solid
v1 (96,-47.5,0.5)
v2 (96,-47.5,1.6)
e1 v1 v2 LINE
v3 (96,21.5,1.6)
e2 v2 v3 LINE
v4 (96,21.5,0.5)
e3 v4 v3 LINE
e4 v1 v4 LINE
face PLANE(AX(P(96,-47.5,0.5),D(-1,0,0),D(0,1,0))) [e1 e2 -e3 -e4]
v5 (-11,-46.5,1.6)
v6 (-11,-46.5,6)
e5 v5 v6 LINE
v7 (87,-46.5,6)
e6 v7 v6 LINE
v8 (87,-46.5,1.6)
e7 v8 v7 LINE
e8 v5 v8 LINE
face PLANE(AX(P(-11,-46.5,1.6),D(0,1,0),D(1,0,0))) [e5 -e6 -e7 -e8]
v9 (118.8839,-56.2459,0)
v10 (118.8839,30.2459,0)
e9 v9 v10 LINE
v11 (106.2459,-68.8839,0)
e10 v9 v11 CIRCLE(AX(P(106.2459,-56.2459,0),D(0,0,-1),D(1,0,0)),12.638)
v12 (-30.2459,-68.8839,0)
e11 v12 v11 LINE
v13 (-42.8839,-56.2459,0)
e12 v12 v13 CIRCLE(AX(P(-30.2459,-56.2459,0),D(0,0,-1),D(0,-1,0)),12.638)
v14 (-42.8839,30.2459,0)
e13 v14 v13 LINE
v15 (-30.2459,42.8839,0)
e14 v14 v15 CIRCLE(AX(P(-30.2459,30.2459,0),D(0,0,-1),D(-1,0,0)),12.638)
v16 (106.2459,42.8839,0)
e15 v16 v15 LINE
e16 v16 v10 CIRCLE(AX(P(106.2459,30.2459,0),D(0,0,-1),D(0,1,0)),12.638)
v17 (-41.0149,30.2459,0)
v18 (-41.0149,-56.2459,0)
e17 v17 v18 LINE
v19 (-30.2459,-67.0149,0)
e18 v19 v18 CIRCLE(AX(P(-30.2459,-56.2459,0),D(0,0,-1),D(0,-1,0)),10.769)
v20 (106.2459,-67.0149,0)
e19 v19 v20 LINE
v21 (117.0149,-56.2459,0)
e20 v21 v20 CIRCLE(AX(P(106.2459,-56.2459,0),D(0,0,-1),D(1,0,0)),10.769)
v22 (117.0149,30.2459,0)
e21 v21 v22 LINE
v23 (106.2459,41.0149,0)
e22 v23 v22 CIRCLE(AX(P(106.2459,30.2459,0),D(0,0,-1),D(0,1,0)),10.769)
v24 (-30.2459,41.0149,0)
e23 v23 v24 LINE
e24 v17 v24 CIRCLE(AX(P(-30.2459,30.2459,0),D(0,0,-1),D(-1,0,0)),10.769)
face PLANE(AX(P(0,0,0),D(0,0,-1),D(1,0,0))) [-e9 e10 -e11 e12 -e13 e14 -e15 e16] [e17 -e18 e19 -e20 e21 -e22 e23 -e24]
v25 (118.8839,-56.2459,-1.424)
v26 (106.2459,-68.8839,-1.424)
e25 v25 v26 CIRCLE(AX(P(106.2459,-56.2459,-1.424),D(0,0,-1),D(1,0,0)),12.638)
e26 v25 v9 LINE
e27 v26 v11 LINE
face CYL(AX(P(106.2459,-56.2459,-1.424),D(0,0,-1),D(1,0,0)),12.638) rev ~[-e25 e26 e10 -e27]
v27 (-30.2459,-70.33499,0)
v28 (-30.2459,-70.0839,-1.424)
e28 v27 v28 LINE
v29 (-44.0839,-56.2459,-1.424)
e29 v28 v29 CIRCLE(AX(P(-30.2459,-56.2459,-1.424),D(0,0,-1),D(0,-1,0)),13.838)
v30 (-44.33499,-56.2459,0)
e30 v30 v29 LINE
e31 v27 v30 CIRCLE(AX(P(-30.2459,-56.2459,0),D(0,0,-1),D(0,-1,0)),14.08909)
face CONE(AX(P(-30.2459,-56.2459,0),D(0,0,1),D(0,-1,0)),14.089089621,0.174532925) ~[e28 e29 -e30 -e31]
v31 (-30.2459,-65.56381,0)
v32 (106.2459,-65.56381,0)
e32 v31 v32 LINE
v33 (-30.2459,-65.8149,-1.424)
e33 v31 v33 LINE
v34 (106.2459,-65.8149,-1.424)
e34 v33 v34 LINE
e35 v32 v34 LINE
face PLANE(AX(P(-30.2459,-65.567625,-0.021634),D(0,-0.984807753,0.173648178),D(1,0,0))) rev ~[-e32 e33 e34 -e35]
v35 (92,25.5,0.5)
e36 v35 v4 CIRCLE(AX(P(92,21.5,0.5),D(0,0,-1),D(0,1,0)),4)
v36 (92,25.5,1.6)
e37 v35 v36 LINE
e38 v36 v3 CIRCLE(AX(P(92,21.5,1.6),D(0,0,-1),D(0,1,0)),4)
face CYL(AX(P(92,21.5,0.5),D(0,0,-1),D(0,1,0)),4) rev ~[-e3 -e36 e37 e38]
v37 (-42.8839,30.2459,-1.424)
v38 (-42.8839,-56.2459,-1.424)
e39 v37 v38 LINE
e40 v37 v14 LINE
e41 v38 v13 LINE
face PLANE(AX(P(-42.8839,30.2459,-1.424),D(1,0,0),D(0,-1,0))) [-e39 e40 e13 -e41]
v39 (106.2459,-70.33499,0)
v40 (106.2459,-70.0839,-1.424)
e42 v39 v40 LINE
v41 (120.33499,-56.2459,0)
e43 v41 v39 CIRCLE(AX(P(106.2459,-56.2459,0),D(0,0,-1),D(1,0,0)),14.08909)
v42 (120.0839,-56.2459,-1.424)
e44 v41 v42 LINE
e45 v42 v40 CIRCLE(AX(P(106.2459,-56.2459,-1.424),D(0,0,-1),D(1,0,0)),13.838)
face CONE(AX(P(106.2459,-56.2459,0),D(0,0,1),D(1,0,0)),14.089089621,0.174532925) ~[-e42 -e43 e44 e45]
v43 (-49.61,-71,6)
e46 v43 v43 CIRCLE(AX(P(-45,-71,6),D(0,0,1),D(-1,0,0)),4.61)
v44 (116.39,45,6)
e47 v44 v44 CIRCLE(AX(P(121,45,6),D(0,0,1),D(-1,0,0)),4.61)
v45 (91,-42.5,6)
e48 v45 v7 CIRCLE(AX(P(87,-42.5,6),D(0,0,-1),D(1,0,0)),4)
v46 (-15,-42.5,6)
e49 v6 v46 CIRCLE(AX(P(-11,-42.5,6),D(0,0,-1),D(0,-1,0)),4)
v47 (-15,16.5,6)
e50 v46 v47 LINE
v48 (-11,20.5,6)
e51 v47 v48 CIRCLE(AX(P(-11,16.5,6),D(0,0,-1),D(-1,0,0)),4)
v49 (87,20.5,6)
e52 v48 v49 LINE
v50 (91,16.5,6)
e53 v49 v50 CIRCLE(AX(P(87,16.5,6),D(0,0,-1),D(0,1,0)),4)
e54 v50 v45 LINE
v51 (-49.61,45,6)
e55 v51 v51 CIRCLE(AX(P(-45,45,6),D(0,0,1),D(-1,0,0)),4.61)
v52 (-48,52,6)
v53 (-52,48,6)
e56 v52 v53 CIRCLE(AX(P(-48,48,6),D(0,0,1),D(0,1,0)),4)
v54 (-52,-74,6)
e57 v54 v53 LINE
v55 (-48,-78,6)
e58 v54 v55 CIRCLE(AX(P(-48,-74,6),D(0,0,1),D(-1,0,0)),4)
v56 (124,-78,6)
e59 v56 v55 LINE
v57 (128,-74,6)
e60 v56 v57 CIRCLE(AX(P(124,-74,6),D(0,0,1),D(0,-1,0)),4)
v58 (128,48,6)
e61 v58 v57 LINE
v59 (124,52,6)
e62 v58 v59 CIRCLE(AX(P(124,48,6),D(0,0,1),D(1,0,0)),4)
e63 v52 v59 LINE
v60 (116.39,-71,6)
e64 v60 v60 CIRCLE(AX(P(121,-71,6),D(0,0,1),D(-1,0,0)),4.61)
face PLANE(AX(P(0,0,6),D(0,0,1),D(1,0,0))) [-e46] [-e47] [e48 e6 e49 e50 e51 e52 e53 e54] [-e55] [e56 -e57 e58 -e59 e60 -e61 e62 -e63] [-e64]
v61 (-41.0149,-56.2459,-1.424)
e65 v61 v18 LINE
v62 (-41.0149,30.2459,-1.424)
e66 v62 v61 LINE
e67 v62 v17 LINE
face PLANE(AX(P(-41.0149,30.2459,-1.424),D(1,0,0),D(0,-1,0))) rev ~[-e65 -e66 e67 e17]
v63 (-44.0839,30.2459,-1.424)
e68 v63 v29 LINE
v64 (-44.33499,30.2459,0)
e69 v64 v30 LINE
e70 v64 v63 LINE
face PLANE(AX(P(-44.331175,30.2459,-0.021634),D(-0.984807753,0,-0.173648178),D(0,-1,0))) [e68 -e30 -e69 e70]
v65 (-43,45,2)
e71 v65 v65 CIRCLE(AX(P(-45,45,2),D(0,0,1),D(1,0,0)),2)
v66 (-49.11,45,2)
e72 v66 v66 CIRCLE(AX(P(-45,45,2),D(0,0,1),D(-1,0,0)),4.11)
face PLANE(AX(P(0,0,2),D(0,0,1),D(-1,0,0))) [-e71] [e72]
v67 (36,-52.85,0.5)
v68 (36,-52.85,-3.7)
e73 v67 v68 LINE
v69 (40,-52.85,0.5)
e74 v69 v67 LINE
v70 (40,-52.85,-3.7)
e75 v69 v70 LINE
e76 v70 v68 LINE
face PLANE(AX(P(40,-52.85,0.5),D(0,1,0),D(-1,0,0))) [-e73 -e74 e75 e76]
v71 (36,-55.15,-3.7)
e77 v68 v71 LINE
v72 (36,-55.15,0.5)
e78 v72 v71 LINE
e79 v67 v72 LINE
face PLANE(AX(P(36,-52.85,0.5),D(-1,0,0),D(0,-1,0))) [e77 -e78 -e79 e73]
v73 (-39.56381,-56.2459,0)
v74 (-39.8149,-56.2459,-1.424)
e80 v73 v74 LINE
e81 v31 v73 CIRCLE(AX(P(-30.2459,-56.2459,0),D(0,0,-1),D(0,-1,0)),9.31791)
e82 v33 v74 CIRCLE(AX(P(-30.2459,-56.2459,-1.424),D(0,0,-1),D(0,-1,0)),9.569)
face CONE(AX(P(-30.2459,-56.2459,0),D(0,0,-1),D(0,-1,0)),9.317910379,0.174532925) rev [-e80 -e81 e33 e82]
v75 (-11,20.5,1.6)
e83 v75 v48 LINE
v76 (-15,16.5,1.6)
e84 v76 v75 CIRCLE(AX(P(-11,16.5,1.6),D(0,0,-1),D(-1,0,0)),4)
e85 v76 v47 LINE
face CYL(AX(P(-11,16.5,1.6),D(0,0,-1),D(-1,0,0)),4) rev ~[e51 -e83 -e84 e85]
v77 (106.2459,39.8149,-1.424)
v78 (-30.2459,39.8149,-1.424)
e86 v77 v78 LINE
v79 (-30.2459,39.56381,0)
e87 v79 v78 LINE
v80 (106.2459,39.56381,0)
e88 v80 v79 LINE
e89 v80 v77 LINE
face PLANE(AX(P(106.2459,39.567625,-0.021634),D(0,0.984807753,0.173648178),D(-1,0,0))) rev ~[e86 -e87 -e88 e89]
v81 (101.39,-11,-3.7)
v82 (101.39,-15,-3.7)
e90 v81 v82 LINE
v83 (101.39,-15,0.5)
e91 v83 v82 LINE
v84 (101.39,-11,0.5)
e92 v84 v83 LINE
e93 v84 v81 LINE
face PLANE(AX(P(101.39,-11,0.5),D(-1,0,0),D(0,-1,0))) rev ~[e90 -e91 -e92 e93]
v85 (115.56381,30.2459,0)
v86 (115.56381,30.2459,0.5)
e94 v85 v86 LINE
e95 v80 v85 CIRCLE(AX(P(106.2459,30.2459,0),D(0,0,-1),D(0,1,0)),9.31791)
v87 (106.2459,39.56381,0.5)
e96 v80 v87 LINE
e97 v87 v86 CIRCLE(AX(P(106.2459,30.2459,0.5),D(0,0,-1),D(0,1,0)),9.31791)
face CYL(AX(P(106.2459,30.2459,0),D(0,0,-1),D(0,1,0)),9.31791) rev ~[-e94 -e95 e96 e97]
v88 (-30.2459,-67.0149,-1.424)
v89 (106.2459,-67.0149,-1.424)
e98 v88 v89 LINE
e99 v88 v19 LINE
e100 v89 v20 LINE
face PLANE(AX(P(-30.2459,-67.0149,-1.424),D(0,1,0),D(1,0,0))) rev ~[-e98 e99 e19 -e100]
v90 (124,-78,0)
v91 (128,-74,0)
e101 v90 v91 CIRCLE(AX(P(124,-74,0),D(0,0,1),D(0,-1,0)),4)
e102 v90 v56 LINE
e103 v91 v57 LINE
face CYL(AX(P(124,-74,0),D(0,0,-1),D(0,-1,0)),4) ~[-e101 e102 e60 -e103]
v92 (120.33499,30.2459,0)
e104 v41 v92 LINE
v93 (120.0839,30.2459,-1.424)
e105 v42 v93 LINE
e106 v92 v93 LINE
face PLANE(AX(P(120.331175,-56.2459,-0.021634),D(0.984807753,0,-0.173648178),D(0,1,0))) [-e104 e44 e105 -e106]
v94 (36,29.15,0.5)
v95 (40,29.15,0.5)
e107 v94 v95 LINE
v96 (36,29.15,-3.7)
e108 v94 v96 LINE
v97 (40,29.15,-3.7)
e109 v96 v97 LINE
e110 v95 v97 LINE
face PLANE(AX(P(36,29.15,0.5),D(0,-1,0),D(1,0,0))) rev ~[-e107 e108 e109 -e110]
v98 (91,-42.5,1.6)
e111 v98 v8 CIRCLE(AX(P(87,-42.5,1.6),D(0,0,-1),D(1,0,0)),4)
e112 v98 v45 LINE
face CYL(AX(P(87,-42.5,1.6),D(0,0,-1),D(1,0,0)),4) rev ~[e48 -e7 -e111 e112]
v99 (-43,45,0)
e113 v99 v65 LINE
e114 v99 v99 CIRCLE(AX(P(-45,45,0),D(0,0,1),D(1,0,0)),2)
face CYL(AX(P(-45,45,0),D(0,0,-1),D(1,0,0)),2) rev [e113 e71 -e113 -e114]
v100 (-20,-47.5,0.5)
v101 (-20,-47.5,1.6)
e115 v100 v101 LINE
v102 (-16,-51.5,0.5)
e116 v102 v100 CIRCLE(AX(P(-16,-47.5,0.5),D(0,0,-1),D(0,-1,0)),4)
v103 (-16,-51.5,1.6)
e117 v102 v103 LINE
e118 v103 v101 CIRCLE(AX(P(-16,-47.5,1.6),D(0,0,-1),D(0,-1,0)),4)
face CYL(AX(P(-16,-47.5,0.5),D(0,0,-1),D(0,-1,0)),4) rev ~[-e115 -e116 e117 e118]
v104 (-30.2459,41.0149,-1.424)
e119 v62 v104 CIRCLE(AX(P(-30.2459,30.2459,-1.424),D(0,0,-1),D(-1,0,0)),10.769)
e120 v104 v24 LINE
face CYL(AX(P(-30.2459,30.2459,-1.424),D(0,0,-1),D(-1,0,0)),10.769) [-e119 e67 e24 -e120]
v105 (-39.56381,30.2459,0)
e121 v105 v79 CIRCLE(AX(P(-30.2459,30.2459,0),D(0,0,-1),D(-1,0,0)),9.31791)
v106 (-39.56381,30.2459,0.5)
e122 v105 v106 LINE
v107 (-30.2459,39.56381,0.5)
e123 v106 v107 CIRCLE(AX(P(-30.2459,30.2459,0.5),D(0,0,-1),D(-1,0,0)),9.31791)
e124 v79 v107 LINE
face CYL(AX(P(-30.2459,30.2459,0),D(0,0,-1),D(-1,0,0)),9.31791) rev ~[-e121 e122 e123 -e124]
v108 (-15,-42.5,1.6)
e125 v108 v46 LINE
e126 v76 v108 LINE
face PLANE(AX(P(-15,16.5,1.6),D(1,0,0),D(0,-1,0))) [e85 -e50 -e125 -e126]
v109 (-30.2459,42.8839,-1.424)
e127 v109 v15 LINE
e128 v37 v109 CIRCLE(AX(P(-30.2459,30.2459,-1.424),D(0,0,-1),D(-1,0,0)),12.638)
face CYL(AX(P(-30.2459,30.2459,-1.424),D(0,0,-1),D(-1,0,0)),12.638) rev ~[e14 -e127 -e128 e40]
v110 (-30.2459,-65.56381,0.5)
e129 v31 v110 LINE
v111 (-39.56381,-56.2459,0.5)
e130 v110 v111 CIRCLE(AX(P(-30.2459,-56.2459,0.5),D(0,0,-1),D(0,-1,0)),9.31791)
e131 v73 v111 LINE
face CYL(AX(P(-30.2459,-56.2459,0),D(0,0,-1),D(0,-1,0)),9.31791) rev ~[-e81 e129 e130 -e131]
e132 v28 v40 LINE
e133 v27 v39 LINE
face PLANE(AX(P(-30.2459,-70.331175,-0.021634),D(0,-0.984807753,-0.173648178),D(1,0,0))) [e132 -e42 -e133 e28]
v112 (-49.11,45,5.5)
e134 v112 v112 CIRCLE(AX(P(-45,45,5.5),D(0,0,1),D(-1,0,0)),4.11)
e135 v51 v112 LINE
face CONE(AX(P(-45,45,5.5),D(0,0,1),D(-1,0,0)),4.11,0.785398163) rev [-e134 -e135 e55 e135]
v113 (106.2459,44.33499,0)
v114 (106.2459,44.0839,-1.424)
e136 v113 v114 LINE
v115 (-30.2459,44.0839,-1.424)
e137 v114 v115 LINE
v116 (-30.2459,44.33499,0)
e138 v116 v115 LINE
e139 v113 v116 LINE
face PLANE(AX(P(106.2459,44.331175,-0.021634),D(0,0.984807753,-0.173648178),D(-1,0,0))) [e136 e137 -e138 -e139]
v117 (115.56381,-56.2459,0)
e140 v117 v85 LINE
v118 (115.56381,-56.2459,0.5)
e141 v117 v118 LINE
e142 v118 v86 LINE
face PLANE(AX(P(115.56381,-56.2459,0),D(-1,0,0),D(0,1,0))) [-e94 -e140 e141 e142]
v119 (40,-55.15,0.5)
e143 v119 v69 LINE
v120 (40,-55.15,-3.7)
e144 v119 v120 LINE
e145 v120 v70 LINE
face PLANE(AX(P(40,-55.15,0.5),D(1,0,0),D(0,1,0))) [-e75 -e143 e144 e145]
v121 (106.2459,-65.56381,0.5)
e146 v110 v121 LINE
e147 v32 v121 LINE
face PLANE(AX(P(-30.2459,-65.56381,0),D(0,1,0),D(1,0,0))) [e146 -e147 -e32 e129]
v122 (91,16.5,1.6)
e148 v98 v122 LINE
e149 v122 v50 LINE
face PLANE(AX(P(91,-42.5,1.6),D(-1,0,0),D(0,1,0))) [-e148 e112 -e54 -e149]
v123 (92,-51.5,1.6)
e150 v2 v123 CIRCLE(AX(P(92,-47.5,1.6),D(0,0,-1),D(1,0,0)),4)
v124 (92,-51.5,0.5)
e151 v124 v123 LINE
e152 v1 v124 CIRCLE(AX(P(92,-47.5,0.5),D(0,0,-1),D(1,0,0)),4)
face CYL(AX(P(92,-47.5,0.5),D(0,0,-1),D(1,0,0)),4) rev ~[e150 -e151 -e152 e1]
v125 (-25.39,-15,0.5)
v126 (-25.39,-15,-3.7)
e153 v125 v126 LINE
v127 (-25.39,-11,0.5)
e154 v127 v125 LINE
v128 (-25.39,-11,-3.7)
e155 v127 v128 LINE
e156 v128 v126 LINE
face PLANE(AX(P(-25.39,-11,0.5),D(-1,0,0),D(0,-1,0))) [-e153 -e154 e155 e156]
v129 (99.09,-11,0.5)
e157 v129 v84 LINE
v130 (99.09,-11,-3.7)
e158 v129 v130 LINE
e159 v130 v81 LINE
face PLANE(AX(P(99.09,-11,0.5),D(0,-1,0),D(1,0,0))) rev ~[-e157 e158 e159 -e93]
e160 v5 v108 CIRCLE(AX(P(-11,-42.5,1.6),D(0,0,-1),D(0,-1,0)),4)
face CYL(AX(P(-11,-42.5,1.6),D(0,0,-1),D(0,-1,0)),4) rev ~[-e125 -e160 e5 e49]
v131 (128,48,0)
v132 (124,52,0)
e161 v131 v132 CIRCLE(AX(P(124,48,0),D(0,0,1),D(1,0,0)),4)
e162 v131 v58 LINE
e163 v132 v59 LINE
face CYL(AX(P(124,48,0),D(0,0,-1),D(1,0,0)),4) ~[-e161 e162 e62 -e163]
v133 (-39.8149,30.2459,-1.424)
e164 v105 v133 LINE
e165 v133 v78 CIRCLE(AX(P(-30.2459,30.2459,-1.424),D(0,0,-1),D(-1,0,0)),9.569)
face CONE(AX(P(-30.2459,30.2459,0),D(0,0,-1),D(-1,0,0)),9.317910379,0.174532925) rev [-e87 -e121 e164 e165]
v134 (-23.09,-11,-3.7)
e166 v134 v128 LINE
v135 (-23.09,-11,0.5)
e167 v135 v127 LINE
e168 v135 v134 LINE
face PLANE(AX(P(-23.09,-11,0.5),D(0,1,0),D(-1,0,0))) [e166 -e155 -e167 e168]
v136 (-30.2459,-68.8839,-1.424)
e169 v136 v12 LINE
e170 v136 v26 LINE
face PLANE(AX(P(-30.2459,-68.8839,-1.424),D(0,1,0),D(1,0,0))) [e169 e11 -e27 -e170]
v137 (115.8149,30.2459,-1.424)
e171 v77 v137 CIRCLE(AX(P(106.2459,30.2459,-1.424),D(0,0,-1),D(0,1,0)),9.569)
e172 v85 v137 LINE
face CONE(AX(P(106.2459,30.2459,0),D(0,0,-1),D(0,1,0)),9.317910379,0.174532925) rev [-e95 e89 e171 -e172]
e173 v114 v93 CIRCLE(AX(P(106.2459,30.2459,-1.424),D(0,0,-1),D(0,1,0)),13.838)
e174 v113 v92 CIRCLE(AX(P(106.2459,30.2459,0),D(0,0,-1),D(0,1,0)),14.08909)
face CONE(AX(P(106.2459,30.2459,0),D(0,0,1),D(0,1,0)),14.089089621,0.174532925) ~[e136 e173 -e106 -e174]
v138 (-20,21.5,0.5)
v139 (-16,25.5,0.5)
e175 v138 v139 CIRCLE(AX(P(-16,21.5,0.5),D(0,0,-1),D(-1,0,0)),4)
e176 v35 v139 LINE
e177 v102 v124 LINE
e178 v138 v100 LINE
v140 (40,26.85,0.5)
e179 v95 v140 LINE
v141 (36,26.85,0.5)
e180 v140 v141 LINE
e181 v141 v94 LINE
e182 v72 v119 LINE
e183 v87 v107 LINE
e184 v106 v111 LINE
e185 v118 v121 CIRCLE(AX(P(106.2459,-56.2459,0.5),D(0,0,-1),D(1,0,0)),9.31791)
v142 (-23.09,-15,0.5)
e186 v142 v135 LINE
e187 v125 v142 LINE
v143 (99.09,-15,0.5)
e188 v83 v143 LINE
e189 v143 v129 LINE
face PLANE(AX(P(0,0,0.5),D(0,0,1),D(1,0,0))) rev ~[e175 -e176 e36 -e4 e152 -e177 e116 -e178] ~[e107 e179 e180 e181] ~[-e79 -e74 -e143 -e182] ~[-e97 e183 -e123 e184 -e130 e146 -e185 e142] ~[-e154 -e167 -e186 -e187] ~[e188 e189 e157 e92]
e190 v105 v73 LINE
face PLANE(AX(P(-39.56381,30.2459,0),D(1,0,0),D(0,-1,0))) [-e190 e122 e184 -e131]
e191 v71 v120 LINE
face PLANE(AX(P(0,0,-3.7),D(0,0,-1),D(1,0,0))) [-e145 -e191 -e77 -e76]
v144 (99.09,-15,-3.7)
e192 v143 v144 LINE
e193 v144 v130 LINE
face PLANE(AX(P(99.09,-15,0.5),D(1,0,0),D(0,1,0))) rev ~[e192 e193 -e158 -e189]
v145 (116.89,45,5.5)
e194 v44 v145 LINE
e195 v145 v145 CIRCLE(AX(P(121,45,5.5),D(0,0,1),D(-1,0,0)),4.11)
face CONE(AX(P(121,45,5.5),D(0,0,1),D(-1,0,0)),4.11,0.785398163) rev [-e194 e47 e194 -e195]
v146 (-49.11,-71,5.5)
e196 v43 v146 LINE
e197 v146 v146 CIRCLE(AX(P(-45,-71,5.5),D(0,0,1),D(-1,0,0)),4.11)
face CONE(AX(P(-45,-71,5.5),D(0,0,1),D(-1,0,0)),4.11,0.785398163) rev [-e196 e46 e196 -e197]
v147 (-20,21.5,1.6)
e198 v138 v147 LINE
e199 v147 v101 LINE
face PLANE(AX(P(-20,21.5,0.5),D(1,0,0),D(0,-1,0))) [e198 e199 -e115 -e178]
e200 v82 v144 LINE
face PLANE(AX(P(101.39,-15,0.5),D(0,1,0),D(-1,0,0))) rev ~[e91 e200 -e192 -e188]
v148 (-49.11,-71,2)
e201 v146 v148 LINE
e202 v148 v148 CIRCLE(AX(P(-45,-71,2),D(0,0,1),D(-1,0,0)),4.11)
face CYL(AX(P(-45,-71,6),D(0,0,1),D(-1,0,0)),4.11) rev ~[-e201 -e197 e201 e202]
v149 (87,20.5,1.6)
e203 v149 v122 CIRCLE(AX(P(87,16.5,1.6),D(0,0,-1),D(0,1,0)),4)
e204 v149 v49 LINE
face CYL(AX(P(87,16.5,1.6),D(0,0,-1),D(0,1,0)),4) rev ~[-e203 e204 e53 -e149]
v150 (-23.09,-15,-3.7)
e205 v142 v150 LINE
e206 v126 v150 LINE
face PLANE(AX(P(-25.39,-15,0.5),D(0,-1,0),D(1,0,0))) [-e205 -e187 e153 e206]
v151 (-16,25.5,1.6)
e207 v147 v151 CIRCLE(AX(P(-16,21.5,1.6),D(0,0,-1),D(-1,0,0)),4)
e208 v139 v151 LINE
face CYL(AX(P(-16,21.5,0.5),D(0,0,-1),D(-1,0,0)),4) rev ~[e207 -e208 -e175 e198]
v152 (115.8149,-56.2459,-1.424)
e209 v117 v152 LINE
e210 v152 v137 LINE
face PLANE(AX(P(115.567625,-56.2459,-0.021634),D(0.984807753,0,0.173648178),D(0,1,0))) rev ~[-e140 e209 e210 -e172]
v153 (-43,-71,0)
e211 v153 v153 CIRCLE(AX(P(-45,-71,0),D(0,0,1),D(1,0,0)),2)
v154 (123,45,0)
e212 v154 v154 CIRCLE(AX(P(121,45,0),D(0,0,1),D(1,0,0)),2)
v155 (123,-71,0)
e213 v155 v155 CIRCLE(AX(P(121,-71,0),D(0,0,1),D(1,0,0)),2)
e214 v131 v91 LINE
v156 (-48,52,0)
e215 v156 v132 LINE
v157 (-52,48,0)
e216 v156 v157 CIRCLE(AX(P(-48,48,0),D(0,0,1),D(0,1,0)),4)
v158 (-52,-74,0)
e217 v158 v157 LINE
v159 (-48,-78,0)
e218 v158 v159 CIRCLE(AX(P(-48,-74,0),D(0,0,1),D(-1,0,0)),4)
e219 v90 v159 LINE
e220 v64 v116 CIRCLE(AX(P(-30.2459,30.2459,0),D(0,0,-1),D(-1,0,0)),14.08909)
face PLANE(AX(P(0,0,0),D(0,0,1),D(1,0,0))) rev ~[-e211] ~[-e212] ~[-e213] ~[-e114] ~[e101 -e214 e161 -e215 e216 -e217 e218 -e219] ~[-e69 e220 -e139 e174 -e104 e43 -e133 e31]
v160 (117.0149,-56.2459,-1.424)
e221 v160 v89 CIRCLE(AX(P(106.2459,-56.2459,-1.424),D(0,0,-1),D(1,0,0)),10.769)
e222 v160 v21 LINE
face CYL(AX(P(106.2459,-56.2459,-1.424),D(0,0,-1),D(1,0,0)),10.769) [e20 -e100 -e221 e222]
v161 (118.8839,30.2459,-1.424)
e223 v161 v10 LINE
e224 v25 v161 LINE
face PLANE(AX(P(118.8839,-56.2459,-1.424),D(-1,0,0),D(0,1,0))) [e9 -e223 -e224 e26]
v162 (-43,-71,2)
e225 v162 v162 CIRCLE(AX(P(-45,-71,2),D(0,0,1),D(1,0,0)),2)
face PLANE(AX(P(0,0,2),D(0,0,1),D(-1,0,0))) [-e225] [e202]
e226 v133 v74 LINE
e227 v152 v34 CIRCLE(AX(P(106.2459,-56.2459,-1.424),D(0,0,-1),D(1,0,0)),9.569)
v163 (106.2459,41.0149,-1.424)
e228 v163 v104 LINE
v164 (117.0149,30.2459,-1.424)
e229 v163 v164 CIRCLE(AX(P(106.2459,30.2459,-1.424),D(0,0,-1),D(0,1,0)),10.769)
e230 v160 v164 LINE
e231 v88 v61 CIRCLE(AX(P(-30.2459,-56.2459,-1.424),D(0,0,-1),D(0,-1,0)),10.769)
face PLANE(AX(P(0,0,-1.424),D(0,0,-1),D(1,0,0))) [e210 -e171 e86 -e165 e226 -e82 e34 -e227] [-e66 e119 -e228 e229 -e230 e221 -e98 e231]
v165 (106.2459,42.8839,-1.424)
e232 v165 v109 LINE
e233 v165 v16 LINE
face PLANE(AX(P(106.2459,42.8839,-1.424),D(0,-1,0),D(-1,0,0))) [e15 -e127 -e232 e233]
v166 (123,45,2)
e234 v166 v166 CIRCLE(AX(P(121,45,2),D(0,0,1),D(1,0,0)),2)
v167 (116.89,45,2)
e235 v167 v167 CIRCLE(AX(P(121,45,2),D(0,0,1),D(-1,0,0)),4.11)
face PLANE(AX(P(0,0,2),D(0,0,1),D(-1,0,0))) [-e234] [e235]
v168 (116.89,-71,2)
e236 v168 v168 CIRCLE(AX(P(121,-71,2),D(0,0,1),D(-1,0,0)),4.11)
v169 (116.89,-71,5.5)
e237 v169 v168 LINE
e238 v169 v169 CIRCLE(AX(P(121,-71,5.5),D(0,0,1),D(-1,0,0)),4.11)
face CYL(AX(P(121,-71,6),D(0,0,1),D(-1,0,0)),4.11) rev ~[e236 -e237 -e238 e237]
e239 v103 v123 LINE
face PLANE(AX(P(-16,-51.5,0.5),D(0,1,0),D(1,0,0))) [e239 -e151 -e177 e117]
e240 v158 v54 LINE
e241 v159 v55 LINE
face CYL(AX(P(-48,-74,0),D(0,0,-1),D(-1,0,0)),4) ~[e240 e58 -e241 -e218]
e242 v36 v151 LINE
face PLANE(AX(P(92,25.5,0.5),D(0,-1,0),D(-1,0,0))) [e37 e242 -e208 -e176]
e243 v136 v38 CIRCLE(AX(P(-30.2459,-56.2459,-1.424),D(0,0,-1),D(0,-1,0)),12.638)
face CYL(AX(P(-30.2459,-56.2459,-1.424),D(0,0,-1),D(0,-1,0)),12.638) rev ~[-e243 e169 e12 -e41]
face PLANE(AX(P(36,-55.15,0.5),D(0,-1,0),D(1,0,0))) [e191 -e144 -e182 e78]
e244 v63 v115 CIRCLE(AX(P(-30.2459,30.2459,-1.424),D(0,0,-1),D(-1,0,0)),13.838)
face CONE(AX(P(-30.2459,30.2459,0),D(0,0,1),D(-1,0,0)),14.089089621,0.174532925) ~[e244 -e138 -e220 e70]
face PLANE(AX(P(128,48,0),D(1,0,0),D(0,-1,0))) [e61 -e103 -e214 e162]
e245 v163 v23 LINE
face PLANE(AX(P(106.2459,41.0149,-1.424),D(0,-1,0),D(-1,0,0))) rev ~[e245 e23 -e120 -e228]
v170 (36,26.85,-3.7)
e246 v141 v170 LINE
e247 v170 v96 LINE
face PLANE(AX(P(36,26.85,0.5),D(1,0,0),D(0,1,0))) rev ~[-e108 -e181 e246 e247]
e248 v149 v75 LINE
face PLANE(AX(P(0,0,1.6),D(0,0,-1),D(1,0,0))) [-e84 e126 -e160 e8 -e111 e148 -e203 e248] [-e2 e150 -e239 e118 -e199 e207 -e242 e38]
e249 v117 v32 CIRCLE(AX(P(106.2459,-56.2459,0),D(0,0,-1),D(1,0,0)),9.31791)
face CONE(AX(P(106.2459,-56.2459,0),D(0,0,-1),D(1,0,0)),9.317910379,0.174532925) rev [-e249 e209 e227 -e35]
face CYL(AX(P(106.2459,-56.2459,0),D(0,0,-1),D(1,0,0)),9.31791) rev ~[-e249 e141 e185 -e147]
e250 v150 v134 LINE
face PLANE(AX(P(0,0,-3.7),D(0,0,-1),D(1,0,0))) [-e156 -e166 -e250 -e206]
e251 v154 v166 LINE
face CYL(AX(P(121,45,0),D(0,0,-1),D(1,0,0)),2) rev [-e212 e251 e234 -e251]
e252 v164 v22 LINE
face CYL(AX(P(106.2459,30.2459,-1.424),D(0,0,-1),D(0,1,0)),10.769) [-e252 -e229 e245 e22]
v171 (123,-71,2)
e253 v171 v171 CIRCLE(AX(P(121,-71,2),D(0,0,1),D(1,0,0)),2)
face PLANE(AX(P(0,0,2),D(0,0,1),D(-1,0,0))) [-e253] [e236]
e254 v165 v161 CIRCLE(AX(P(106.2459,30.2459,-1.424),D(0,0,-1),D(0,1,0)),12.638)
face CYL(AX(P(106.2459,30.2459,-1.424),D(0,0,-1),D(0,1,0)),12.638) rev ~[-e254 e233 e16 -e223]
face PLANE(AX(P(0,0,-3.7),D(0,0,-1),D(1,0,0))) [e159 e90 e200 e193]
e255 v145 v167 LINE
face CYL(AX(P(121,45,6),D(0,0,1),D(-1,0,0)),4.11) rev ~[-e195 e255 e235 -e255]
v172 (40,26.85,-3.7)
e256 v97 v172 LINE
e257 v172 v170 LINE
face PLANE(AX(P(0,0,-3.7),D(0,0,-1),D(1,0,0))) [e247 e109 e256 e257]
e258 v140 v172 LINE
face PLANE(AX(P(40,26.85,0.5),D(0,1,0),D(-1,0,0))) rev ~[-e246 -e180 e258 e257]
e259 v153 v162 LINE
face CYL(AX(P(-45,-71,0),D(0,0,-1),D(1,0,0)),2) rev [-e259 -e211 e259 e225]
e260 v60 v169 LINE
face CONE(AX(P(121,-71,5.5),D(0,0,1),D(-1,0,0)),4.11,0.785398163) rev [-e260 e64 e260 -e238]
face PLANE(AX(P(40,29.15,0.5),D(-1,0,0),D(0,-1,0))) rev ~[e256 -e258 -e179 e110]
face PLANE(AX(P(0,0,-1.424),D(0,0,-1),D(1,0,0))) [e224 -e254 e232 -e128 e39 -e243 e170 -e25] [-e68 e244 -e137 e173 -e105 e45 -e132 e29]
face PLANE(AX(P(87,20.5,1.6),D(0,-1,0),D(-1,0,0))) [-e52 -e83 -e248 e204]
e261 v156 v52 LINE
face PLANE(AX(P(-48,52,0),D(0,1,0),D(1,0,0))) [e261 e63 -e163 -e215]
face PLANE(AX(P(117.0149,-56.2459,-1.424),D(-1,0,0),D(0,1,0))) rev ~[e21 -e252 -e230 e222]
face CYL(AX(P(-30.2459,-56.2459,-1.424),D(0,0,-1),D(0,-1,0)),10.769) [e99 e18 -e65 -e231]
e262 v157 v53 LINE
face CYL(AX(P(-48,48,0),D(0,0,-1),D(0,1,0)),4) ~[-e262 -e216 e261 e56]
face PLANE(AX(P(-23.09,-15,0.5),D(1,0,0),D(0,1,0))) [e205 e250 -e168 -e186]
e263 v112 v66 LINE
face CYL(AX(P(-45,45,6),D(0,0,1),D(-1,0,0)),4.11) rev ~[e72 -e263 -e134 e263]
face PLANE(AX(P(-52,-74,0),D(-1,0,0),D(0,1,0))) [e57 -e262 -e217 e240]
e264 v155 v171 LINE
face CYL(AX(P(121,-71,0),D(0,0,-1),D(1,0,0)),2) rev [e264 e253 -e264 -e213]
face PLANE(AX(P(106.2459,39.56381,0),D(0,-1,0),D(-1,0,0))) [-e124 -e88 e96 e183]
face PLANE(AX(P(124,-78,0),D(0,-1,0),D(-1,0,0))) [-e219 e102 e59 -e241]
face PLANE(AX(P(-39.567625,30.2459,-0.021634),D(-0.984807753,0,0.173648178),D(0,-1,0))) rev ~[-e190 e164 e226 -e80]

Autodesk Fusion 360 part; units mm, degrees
sketch "Sketch2" plane through (0, 0, 0) normal (0, 0, 1) x (1, 0, 0)
  line L0 (-48, 52) -> (124, 52)
  line L1 (128, 48) -> (128, -74)
  line L2 (124, -78) -> (-48, -78)
  line L3 (-52, -74) -> (-52, 48)
  circle A0 centre (-45, 45) radius 2
  line L4 (38, -78) -> (38, 52) construction
  line L5 (-52, -13) -> (128, -13) construction
  arc A1 (-48, 52) -> (-52, 48) centre (-48, 48) ccw
  circle A2 centre (121, 45) radius 2
  arc A3 (128, 48) -> (124, 52) centre (124, 48) ccw
  circle A4 centre (121, -71) radius 2
  arc A5 (124, -78) -> (128, -74) centre (124, -74) ccw
  circle A6 centre (-45, -71) radius 2
  arc A7 (-52, -74) -> (-48, -78) centre (-48, -74) ccw
  point P0 (-52, 52)
  point P1 (128, 52)
  dimension "d3" = 4
  dimension "d4" = 7
  dimension "d5" = 7
  dimension "d6" = 4
  dimension "d63" = 180
  dimension "d64" = 130
extrude "Extrude1" add sketch "Sketch2" along normal blind 6
sketch "Sketch3" plane through (0, 0, 0) normal (0, 0, -1) x (1, 0, 0)
  circle A0 centre (121, 71) radius 2
  circle A1 centre (-45, 71) radius 2
  circle A2 centre (-45, -45) radius 2
  circle A3 centre (121, -45) radius 2
  arc A4 (-52, -48) -> (-48, -52) centre (-48, -48) ccw
  line L0 (-48, -52) -> (124, -52)
  arc A5 (124, -52) -> (128, -48) centre (124, -48) ccw
  line L1 (128, -48) -> (128, 74)
  arc A6 (128, 74) -> (124, 78) centre (124, 74) ccw
  line L2 (124, 78) -> (-48, 78)
  arc A7 (-48, 78) -> (-52, 74) centre (-48, 74) ccw
  line L3 (-52, 74) -> (-52, -48)
  line L4 (38, 78) -> (38, -52) construction
  line L5 (128, 13) -> (-52, 13) construction
  line L6 (117.9494, -41.9494) -> (-41.9494, -41.9494) construction
  line L7 (-41.9494, -41.9494) -> (-41.9494, 67.9494) construction
  line L8 (-41.9494, 67.9494) -> (117.9494, 67.9494) construction
  line L9 (117.9494, 67.9494) -> (117.9494, -41.9494) construction
  line L10 (117.9494, -41.9494) -> (-41.9494, 67.9494) construction
  line L11 (-41.9494, -41.9494) -> (117.9494, 67.9494) construction
  line L12 (106.2459, -44.0839) -> (-30.2459, -44.0839)
  line L13 (-44.0839, -30.2459) -> (-44.0839, 56.2459)
  line L14 (-30.2459, 70.0839) -> (106.2459, 70.0839)
  line L15 (120.0839, 56.2459) -> (120.0839, -30.2459)
  line L16 (93.976, -25.9276) -> (-44.0839, 70.0839) construction
  line L17 (-38.2879, -33.8258) -> (83.9414, 41.199) construction
  line L18 (-39.8149, -30.2459) -> (-39.8149, 56.2459)
  line L19 (-30.2459, 65.8149) -> (106.2459, 65.8149)
  line L20 (115.8149, 56.2459) -> (115.8149, -30.2459)
  line L21 (103.0391, -31.1436) -> (-39.8149, 65.8149) construction
  line L22 (-35.6113, -30.989) -> (81.1607, 38.7921) construction
  arc A8 (-30.2459, 65.8149) -> (-39.8149, 56.2459) centre (-30.2459, 56.2459) ccw
  arc A9 (-30.2459, 70.0839) -> (-44.0839, 56.2459) centre (-30.2459, 56.2459) ccw
  arc A10 (115.8149, 56.2459) -> (106.2459, 65.8149) centre (106.2459, 56.2459) ccw
  arc A11 (120.0839, 56.2459) -> (106.2459, 70.0839) centre (106.2459, 56.2459) ccw
  arc A12 (-39.8149, -30.2459) -> (-30.2459, -39.8149) centre (-30.2459, -30.2459) ccw
  arc A13 (-44.0839, -30.2459) -> (-30.2459, -44.0839) centre (-30.2459, -30.2459) ccw
  arc A14 (106.2459, -39.8149) -> (115.8149, -30.2459) centre (106.2459, -30.2459) ccw
  arc A15 (106.2459, -44.0839) -> (120.0839, -30.2459) centre (106.2459, -30.2459) ccw
  line L23 (106.2459, -39.8149) -> (-30.2459, -39.8149)
  point P0 (38, 13)
  point P1 (38, 13)
  point P2 (38, 13)
  point P3 (38, 13)
  point P4 (38, 13)
  dimension "d25" = 159.8988
  dimension "d27" = 109.8988
  dimension "d28" = 2.1345
  dimension "d29" = 2.1345
  dimension "d30" = 2.1345
  dimension "d31" = 2.1345
  dimension "d44" = 9.569
  dimension "d45" = 13.838
extrude "Extrude4" add sketch "Sketch3" along normal blind 1.424 contours L12 L13 L14 L15 A9 A11 A13 A15
draft "Draft3" angle 10 neutral plane through (0, 0, -1.424) pull (0, 0, -1) 16 faces at (60.7486, -65.8149, -0.9493) (109.3756, -65.2886, -0.9493) (115.8149, -27.4153, -0.4747) (108.5019, 39.5452, -0.9493) (60.7486, 39.8149, -0.4747) (-38.5329, 35.0304, -0.9493) (-39.8149, -27.4153, -0.4747) (-32.5019, -65.5452, -0.9493) (-44.0839, 1.4153, -0.4747) (-35.389, 43.0927, -0.9493) (15.2514, 44.0839, -0.9493) (116.2609, 39.7952, -0.9493) (120.0839, 1.4153, -0.9493) (108.8648, -69.8338, -0.9493) (60.7486, -70.0839, -0.9493) (-44.0213, -57.5613, -0.4747)
sketch "Sketch5" plane through (0, 0, -1.424) normal (0, 0, -1) x (1, 0, 0)
  line L0 (-30.2459, 65.8149) -> (106.2459, 65.8149)
  line L1 (115.8149, 56.2459) -> (115.8149, -30.2459)
  line L2 (106.2459, -39.8149) -> (-30.2459, -39.8149)
  line L3 (-39.8149, -30.2459) -> (-39.8149, 56.2459)
  line L4 (106.2459, 70.0839) -> (-30.2459, 70.0839)
  line L5 (-44.0839, 56.2459) -> (-44.0839, -30.2459)
  line L6 (-30.2459, -44.0839) -> (106.2459, -44.0839)
  line L7 (120.0839, -30.2459) -> (120.0839, 56.2459)
  line L8 (38, 70.0839) -> (38, -44.0839) construction
  line L9 (120.0839, 13) -> (-44.0839, 13) construction
  line L10 (117.9494, -41.9494) -> (-41.9494, -41.9494) construction
  line L11 (-41.9494, -41.9494) -> (-41.9494, 67.9494) construction
  line L12 (-41.9494, 67.9494) -> (117.9494, 67.9494) construction
  line L13 (117.9494, 67.9494) -> (117.9494, -41.9494) construction
  line L14 (117.9494, -41.9494) -> (-41.9494, 67.9494) construction
  line L15 (-41.9494, -41.9494) -> (117.9494, 67.9494) construction
  line L16 (106.2459, -42.8839) -> (-30.2459, -42.8839)
  line L17 (-42.8839, -30.2459) -> (-42.8839, 56.2459)
  line L18 (-30.2459, 68.8839) -> (106.2459, 68.8839)
  line L19 (118.8839, 56.2459) -> (118.8839, -30.2459)
  line L20 (96.0985, -27.1411) -> (-42.8839, 68.8839) construction
  line L21 (-42.8839, -42.8839) -> (96.0985, 53.1411) construction
  line L22 (106.2459, -41.0149) -> (-30.2459, -41.0149)
  line L23 (-41.0149, -30.2459) -> (-41.0149, 56.2459)
  line L24 (117.0149, 56.2459) -> (117.0149, -30.2459)
  line L25 (95.1479, -26.0666) -> (-41.0149, 67.0149) construction
  line L26 (-41.0149, -41.0149) -> (95.1479, 52.0666) construction
  arc A0 (115.8149, 56.2459) -> (106.2459, 65.8149) centre (106.2459, 56.2459) ccw
  arc A1 (106.2459, -39.8149) -> (115.8149, -30.2459) centre (106.2459, -30.2459) ccw
  arc A2 (-39.8149, -30.2459) -> (-30.2459, -39.8149) centre (-30.2459, -30.2459) ccw
  arc A3 (-30.2459, 65.8149) -> (-39.8149, 56.2459) centre (-30.2459, 56.2459) ccw
  arc A4 (-44.0839, -30.2459) -> (-30.2459, -44.0839) centre (-30.2459, -30.2459) ccw
  arc A5 (106.2459, -44.0839) -> (120.0839, -30.2459) centre (106.2459, -30.2459) ccw
  arc A6 (120.0839, 56.2459) -> (106.2459, 70.0839) centre (106.2459, 56.2459) ccw
  arc A7 (-30.2459, 70.0839) -> (-44.0839, 56.2459) centre (-30.2459, 56.2459) ccw
  arc A8 (-30.2459, 67.0149) -> (-41.0149, 56.2459) centre (-30.2459, 56.2459) ccw
  arc A9 (-30.2459, 68.8839) -> (-42.8839, 56.2459) centre (-30.2459, 56.2459) ccw
  arc A10 (117.0149, 56.2459) -> (106.2459, 67.0149) centre (106.2459, 56.2459) ccw
  arc A11 (118.8839, 56.2459) -> (106.2459, 68.8839) centre (106.2459, 56.2459) ccw
  line L27 (-30.2459, 67.0149) -> (106.2459, 67.0149)
  arc A12 (106.2459, -41.0149) -> (117.0149, -30.2459) centre (106.2459, -30.2459) ccw
  arc A13 (106.2459, -42.8839) -> (118.8839, -30.2459) centre (106.2459, -30.2459) ccw
  arc A14 (-41.0149, -30.2459) -> (-30.2459, -41.0149) centre (-30.2459, -30.2459) ccw
  arc A15 (-42.8839, -30.2459) -> (-30.2459, -42.8839) centre (-30.2459, -30.2459) ccw
  point P0 (38, 13)
  point P1 (38, 13)
  point P2 (38, 13)
  dimension "d36" = 159.8988
  dimension "d37" = 109.8988
  dimension "d38" = 0.9345
  dimension "d39" = 0.9345
  dimension "d40" = 0.9345
  dimension "d41" = 0.9345
  dimension "d50" = 10.769
  dimension "d51" = 12.638
extrude "Extrude6" cut sketch "Sketch5" against normal blind 1.424 contours L16 L17 L18 L19 A9 A11 A13 A15
extrude "Extrude7" cut 1 faces at (15.2514, -30.5213, 0) along direction (0, 0, 1) blind 0.5
sketch "Sketch6" plane through (0, 0, 0.5) normal (0, 0, -1) x (1, 0, 0)
  line L0 (106.2459, 65.5638) -> (-30.2459, 65.5638)
  arc A0 (-30.2459, 65.5638) -> (-39.5638, 56.2459) centre (-30.2459, 56.2459) ccw
  line L1 (-39.5638, 56.2459) -> (-39.5638, -30.2459)
  arc A1 (-39.5638, -30.2459) -> (-30.2459, -39.5638) centre (-30.2459, -30.2459) ccw
  line L2 (-30.2459, -39.5638) -> (106.2459, -39.5638)
  arc A2 (106.2459, -39.5638) -> (115.5638, -30.2459) centre (106.2459, -30.2459) ccw
  line L3 (115.5638, -30.2459) -> (115.5638, 56.2459)
  arc A3 (115.5638, 56.2459) -> (106.2459, 65.5638) centre (106.2459, 56.2459) ccw
  line L4 (38, 65.5638) -> (38, -39.5638) construction
  line L5 (-39.5638, 13) -> (115.5638, 13) construction
  line L6 (92, -25.5) -> (-16, -25.5)
  line L7 (-20, -21.5) -> (-20, 47.5)
  line L8 (-16, 51.5) -> (92, 51.5)
  line L9 (96, 47.5) -> (96, -21.5)
  line L10 (96, -25.5) -> (-20, 51.5) construction
  line L11 (-20, -25.5) -> (96, 51.5) construction
  arc A4 (-16, 51.5) -> (-20, 47.5) centre (-16, 47.5) ccw
  arc A5 (96, 47.5) -> (92, 51.5) centre (92, 47.5) ccw
  arc A6 (92, -25.5) -> (96, -21.5) centre (92, -21.5) ccw
  arc A7 (-20, -21.5) -> (-16, -25.5) centre (-16, -21.5) ccw
  point P0 (38, 13)
  dimension "d58" = 116
  dimension "d59" = 77
  dimension "d68" = 4
  dimension "d69" = 4
  dimension "d70" = 4
  dimension "d71" = 4
extrude "Extrude8" cut sketch "Sketch6" against normal blind 1.1 contours L6 L7 L8 L9 A4 A5 A6 A7
sketch "Sketch7" plane through (0, 0, 1.6) normal (0, 0, -1) x (1, 0, 0)
  line L0 (92, 51.5) -> (-16, 51.5)
  line L1 (-20, 47.5) -> (-20, -21.5)
  line L2 (-16, -25.5) -> (92, -25.5)
  line L3 (96, -21.5) -> (96, 47.5)
  line L4 (38, 51.5) -> (38, -25.5) construction
  line L5 (96, 13) -> (-20, 13) construction
  line L6 (87, -20.5) -> (-11, -20.5)
  line L7 (-15, -16.5) -> (-15, 42.5)
  line L8 (-11, 46.5) -> (87, 46.5)
  line L9 (91, 42.5) -> (91, -16.5)
  line L10 (91, -20.5) -> (-15, 46.5) construction
  line L11 (-15, -20.5) -> (91, 46.5) construction
  arc A0 (-16, 51.5) -> (-20, 47.5) centre (-16, 47.5) ccw
  arc A1 (-20, -21.5) -> (-16, -25.5) centre (-16, -21.5) ccw
  arc A2 (92, -25.5) -> (96, -21.5) centre (92, -21.5) ccw
  arc A3 (96, 47.5) -> (92, 51.5) centre (92, 47.5) ccw
  arc A4 (-11, 46.5) -> (-15, 42.5) centre (-11, 42.5) ccw
  arc A5 (91, 42.5) -> (87, 46.5) centre (87, 42.5) ccw
  arc A6 (87, -20.5) -> (91, -16.5) centre (87, -16.5) ccw
  arc A7 (-15, -16.5) -> (-11, -20.5) centre (-11, -16.5) ccw
  point P0 (38, 13)
  dimension "d62" = 106
  dimension "d65" = 67
  dimension "d72" = 4
  dimension "d73" = 4
  dimension "d74" = 4
  dimension "d75" = 4
extrude "Extrude9" cut sketch "Sketch7" against normal blind 8.4 contours L6 L7 L8 L9 A4 A5 A6 A7
sketch "Sketch9" plane through (0, 0, 6) normal (0, 0, 1) x (-1, 0, 0)
  line L0 (15, 42.5) -> (15, -16.5)
  arc A0 (11, -20.5) -> (15, -16.5) centre (11, -16.5) ccw
  line L1 (11, -20.5) -> (-87, -20.5)
  arc A1 (-91, -16.5) -> (-87, -20.5) centre (-87, -16.5) ccw
  line L2 (-91, -16.5) -> (-91, 42.5)
  arc A2 (-87, 46.5) -> (-91, 42.5) centre (-87, 42.5) ccw
  line L3 (-87, 46.5) -> (11, 46.5)
  arc A3 (15, 42.5) -> (11, 46.5) centre (11, 42.5) ccw
  circle A4 centre (-121, 71) radius 2
  circle A5 centre (-121, -45) radius 2
  circle A6 centre (45, 71) radius 2
  circle A7 centre (45, -45) radius 2
  arc A8 (48, -52) -> (52, -48) centre (48, -48) ccw
  line L4 (52, -48) -> (52, 74)
  arc A9 (52, 74) -> (48, 78) centre (48, 74) ccw
  line L5 (48, 78) -> (-124, 78)
  arc A10 (-124, 78) -> (-128, 74) centre (-124, 74) ccw
  line L6 (-128, 74) -> (-128, -48)
  arc A11 (-128, -48) -> (-124, -52) centre (-124, -48) ccw
  line L7 (-124, -52) -> (48, -52)
  line L8 (45, -47) -> (45, -43) construction
  line L9 (43, -45) -> (47, -45) construction
  circle A12 centre (45, -45) radius 4.11
  line L10 (-38, -52) -> (-38, 78) construction
  line L11 (-128, 13) -> (52, 13) construction
  circle A13 centre (-121, -45) radius 4.11
  circle A14 centre (45, 71) radius 4.11
  circle A15 centre (-121, 71) radius 4.11
  dimension "d91" = 8.22
extrude "Extrude11" cut sketch "Sketch9" against normal blind 4 contours A12 | A13 | A14 | A15
sketch "Sketch10" plane through (0, 0, 0.5) normal (0, 0, -1) x (1, 0, 0)
  line L0 (-20, -21.5) -> (-20, 47.5)
  arc A0 (-16, 51.5) -> (-20, 47.5) centre (-16, 47.5) ccw
  line L1 (-16, 51.5) -> (92, 51.5)
  arc A1 (96, 47.5) -> (92, 51.5) centre (92, 47.5) ccw
  line L2 (96, 47.5) -> (96, -21.5)
  arc A2 (92, -25.5) -> (96, -21.5) centre (92, -21.5) ccw
  line L3 (92, -25.5) -> (-16, -25.5)
  arc A3 (-20, -21.5) -> (-16, -25.5) centre (-16, -21.5) ccw
  line L4 (106.2459, 65.5638) -> (-30.2459, 65.5638)
  arc A4 (-30.2459, 65.5638) -> (-39.5638, 56.2459) centre (-30.2459, 56.2459) ccw
  line L5 (-39.5638, 56.2459) -> (-39.5638, -30.2459)
  arc A5 (-39.5638, -30.2459) -> (-30.2459, -39.5638) centre (-30.2459, -30.2459) ccw
  line L6 (-30.2459, -39.5638) -> (106.2459, -39.5638)
  arc A6 (106.2459, -39.5638) -> (115.5638, -30.2459) centre (106.2459, -30.2459) ccw
  line L7 (115.5638, -30.2459) -> (115.5638, 56.2459)
  arc A7 (115.5638, 56.2459) -> (106.2459, 65.5638) centre (106.2459, 56.2459) ccw
  line L8 (38, 65.5638) -> (38, -39.5638) construction
  line L9 (115.5638, 13) -> (-39.5638, 13) construction
  line L10 (38, 13) -> (-24.24, 13) construction
  line L11 (-23.09, 11) -> (-25.39, 11)
  line L12 (-25.39, 11) -> (-25.39, 15)
  line L13 (-25.39, 15) -> (-23.09, 15)
  line L14 (-23.09, 15) -> (-23.09, 11)
  line L15 (-23.09, 11) -> (-25.39, 15) construction
  line L16 (-25.39, 11) -> (-23.09, 15) construction
  line L17 (38, 13) -> (38, 54) construction
  line L18 (40, 52.85) -> (36, 52.85)
  line L19 (36, 52.85) -> (36, 55.15)
  line L20 (36, 55.15) -> (40, 55.15)
  line L21 (40, 55.15) -> (40, 52.85)
  line L22 (40, 52.85) -> (36, 55.15) construction
  line L23 (36, 52.85) -> (40, 55.15) construction
  line L24 (99.09, 15) -> (99.09, 11)
  line L25 (101.39, 15) -> (99.09, 15)
  line L26 (101.39, 11) -> (101.39, 15)
  line L27 (99.09, 11) -> (101.39, 11)
  line L28 (40, -26.85) -> (36, -26.85)
  line L29 (40, -29.15) -> (40, -26.85)
  line L30 (36, -29.15) -> (40, -29.15)
  line L31 (36, -26.85) -> (36, -29.15)
  point P0 (-24.24, 13)
  point P1 (38, 54)
  dimension "d97" = 62.24
  dimension "d98" = 2.3
  dimension "d99" = 4
  dimension "d100" = 41
  dimension "d101" = 2.3
  dimension "d102" = 4
extrude "Extrude12" add sketch "Sketch10" along normal blind 4.2 contours L11 L12 L13 L14 | L18 L19 L20 L21 | L24 L25 L26 L27 | L28 L29 L30 L31
chamfer "Chamfer1" distance 0.5 angle 45 4 edges at (-41.1681, 43.5138, 6) (124.8319, 43.5138, 6) (124.8319, -72.4862, 6) (-41.1681, -72.4862, 6)
equation "d3 = Bolt_Diam"
equation "ORingDiameter = 1.78 mm" comment "Diamter of the O ring"
equation "ORingInnerDiameter = 170 mm" comment "Inner diamter of the o ring bore"
equation "d25 = ( ORingPerimeter - 100 mm ) / 4 + 50 mm"
equation "ORingPerimeter = 2 * 3.1412 * ( ( ORingInnerDiameter / 2 ) + ORingDiameter / 2 )"
equation "d27 = ( ORingPerimeter - 100 mm ) / 4"
equation "d28 = ( ( ORingDiameter * 1.05 ) / 2 ) + 1.2 mm"
equation "d29 = ( ( ORingDiameter * 1.05 ) / 2 ) + 1.2 mm"
equation "d30 = ( ( ORingDiameter * 1.05 ) / 2 ) + 1.2 mm"
equation "d31 = ( ( ORingDiameter * 1.05 ) / 2 ) + 1.2 mm"
equation "d32 = ORingDiameter * 0.8"
equation "d36 = ( ORingPerimeter - 100 mm ) / 4 + 50 mm"
equation "d37 = ( ORingPerimeter - 100 mm ) / 4"
equation "d38 = ( ORingDiameter * 1.05 ) / 2"
equation "d39 = ( ORingDiameter * 1.05 ) / 2"
equation "d40 = ( ORingDiameter * 1.05 ) / 2"
equation "d41 = ( ORingDiameter * 1.05 ) / 2"
equation "d44 = ( ORingDiameter ) * 6 + ORingDiameter * 0.05 - 1.2 mm"
equation "d45 = ( ORingDiameter ) * 6 + ( ORingDiameter * 1.1 ) + 1.2 mm"
equation "d50 = ( ORingDiameter ) * 6 + ORingDiameter * 0.05 - 0.0 mm"
equation "d51 = ( ORingDiameter ) * 6 + ORingDiameter * 1.1 + 0 mm"
equation "d52 = -( ORingDiameter * 0.8 )"
equation "PanelWidth = 77 mm"
equation "PanelLength = 116 mm"
equation "d58 = PanelLength"
equation "d59 = PanelWidth"
equation "d62 = PanelLength - 10 mm"
equation "d65 = PanelWidth - 10 mm"
equation "d91 = Bolt_Head_Diam + 1 mm"
equation "Bolt_Diam = 4 mm" comment "Diameter of the bolt"
equation "Bolt_Head_Height = 4 mm" comment "Height of th ebolt head"
equation "Bolt_Head_Diam = 7.22 mm" comment "Diamter of the bolt head"
equation "d95 = -Bolt_Head_Height"
